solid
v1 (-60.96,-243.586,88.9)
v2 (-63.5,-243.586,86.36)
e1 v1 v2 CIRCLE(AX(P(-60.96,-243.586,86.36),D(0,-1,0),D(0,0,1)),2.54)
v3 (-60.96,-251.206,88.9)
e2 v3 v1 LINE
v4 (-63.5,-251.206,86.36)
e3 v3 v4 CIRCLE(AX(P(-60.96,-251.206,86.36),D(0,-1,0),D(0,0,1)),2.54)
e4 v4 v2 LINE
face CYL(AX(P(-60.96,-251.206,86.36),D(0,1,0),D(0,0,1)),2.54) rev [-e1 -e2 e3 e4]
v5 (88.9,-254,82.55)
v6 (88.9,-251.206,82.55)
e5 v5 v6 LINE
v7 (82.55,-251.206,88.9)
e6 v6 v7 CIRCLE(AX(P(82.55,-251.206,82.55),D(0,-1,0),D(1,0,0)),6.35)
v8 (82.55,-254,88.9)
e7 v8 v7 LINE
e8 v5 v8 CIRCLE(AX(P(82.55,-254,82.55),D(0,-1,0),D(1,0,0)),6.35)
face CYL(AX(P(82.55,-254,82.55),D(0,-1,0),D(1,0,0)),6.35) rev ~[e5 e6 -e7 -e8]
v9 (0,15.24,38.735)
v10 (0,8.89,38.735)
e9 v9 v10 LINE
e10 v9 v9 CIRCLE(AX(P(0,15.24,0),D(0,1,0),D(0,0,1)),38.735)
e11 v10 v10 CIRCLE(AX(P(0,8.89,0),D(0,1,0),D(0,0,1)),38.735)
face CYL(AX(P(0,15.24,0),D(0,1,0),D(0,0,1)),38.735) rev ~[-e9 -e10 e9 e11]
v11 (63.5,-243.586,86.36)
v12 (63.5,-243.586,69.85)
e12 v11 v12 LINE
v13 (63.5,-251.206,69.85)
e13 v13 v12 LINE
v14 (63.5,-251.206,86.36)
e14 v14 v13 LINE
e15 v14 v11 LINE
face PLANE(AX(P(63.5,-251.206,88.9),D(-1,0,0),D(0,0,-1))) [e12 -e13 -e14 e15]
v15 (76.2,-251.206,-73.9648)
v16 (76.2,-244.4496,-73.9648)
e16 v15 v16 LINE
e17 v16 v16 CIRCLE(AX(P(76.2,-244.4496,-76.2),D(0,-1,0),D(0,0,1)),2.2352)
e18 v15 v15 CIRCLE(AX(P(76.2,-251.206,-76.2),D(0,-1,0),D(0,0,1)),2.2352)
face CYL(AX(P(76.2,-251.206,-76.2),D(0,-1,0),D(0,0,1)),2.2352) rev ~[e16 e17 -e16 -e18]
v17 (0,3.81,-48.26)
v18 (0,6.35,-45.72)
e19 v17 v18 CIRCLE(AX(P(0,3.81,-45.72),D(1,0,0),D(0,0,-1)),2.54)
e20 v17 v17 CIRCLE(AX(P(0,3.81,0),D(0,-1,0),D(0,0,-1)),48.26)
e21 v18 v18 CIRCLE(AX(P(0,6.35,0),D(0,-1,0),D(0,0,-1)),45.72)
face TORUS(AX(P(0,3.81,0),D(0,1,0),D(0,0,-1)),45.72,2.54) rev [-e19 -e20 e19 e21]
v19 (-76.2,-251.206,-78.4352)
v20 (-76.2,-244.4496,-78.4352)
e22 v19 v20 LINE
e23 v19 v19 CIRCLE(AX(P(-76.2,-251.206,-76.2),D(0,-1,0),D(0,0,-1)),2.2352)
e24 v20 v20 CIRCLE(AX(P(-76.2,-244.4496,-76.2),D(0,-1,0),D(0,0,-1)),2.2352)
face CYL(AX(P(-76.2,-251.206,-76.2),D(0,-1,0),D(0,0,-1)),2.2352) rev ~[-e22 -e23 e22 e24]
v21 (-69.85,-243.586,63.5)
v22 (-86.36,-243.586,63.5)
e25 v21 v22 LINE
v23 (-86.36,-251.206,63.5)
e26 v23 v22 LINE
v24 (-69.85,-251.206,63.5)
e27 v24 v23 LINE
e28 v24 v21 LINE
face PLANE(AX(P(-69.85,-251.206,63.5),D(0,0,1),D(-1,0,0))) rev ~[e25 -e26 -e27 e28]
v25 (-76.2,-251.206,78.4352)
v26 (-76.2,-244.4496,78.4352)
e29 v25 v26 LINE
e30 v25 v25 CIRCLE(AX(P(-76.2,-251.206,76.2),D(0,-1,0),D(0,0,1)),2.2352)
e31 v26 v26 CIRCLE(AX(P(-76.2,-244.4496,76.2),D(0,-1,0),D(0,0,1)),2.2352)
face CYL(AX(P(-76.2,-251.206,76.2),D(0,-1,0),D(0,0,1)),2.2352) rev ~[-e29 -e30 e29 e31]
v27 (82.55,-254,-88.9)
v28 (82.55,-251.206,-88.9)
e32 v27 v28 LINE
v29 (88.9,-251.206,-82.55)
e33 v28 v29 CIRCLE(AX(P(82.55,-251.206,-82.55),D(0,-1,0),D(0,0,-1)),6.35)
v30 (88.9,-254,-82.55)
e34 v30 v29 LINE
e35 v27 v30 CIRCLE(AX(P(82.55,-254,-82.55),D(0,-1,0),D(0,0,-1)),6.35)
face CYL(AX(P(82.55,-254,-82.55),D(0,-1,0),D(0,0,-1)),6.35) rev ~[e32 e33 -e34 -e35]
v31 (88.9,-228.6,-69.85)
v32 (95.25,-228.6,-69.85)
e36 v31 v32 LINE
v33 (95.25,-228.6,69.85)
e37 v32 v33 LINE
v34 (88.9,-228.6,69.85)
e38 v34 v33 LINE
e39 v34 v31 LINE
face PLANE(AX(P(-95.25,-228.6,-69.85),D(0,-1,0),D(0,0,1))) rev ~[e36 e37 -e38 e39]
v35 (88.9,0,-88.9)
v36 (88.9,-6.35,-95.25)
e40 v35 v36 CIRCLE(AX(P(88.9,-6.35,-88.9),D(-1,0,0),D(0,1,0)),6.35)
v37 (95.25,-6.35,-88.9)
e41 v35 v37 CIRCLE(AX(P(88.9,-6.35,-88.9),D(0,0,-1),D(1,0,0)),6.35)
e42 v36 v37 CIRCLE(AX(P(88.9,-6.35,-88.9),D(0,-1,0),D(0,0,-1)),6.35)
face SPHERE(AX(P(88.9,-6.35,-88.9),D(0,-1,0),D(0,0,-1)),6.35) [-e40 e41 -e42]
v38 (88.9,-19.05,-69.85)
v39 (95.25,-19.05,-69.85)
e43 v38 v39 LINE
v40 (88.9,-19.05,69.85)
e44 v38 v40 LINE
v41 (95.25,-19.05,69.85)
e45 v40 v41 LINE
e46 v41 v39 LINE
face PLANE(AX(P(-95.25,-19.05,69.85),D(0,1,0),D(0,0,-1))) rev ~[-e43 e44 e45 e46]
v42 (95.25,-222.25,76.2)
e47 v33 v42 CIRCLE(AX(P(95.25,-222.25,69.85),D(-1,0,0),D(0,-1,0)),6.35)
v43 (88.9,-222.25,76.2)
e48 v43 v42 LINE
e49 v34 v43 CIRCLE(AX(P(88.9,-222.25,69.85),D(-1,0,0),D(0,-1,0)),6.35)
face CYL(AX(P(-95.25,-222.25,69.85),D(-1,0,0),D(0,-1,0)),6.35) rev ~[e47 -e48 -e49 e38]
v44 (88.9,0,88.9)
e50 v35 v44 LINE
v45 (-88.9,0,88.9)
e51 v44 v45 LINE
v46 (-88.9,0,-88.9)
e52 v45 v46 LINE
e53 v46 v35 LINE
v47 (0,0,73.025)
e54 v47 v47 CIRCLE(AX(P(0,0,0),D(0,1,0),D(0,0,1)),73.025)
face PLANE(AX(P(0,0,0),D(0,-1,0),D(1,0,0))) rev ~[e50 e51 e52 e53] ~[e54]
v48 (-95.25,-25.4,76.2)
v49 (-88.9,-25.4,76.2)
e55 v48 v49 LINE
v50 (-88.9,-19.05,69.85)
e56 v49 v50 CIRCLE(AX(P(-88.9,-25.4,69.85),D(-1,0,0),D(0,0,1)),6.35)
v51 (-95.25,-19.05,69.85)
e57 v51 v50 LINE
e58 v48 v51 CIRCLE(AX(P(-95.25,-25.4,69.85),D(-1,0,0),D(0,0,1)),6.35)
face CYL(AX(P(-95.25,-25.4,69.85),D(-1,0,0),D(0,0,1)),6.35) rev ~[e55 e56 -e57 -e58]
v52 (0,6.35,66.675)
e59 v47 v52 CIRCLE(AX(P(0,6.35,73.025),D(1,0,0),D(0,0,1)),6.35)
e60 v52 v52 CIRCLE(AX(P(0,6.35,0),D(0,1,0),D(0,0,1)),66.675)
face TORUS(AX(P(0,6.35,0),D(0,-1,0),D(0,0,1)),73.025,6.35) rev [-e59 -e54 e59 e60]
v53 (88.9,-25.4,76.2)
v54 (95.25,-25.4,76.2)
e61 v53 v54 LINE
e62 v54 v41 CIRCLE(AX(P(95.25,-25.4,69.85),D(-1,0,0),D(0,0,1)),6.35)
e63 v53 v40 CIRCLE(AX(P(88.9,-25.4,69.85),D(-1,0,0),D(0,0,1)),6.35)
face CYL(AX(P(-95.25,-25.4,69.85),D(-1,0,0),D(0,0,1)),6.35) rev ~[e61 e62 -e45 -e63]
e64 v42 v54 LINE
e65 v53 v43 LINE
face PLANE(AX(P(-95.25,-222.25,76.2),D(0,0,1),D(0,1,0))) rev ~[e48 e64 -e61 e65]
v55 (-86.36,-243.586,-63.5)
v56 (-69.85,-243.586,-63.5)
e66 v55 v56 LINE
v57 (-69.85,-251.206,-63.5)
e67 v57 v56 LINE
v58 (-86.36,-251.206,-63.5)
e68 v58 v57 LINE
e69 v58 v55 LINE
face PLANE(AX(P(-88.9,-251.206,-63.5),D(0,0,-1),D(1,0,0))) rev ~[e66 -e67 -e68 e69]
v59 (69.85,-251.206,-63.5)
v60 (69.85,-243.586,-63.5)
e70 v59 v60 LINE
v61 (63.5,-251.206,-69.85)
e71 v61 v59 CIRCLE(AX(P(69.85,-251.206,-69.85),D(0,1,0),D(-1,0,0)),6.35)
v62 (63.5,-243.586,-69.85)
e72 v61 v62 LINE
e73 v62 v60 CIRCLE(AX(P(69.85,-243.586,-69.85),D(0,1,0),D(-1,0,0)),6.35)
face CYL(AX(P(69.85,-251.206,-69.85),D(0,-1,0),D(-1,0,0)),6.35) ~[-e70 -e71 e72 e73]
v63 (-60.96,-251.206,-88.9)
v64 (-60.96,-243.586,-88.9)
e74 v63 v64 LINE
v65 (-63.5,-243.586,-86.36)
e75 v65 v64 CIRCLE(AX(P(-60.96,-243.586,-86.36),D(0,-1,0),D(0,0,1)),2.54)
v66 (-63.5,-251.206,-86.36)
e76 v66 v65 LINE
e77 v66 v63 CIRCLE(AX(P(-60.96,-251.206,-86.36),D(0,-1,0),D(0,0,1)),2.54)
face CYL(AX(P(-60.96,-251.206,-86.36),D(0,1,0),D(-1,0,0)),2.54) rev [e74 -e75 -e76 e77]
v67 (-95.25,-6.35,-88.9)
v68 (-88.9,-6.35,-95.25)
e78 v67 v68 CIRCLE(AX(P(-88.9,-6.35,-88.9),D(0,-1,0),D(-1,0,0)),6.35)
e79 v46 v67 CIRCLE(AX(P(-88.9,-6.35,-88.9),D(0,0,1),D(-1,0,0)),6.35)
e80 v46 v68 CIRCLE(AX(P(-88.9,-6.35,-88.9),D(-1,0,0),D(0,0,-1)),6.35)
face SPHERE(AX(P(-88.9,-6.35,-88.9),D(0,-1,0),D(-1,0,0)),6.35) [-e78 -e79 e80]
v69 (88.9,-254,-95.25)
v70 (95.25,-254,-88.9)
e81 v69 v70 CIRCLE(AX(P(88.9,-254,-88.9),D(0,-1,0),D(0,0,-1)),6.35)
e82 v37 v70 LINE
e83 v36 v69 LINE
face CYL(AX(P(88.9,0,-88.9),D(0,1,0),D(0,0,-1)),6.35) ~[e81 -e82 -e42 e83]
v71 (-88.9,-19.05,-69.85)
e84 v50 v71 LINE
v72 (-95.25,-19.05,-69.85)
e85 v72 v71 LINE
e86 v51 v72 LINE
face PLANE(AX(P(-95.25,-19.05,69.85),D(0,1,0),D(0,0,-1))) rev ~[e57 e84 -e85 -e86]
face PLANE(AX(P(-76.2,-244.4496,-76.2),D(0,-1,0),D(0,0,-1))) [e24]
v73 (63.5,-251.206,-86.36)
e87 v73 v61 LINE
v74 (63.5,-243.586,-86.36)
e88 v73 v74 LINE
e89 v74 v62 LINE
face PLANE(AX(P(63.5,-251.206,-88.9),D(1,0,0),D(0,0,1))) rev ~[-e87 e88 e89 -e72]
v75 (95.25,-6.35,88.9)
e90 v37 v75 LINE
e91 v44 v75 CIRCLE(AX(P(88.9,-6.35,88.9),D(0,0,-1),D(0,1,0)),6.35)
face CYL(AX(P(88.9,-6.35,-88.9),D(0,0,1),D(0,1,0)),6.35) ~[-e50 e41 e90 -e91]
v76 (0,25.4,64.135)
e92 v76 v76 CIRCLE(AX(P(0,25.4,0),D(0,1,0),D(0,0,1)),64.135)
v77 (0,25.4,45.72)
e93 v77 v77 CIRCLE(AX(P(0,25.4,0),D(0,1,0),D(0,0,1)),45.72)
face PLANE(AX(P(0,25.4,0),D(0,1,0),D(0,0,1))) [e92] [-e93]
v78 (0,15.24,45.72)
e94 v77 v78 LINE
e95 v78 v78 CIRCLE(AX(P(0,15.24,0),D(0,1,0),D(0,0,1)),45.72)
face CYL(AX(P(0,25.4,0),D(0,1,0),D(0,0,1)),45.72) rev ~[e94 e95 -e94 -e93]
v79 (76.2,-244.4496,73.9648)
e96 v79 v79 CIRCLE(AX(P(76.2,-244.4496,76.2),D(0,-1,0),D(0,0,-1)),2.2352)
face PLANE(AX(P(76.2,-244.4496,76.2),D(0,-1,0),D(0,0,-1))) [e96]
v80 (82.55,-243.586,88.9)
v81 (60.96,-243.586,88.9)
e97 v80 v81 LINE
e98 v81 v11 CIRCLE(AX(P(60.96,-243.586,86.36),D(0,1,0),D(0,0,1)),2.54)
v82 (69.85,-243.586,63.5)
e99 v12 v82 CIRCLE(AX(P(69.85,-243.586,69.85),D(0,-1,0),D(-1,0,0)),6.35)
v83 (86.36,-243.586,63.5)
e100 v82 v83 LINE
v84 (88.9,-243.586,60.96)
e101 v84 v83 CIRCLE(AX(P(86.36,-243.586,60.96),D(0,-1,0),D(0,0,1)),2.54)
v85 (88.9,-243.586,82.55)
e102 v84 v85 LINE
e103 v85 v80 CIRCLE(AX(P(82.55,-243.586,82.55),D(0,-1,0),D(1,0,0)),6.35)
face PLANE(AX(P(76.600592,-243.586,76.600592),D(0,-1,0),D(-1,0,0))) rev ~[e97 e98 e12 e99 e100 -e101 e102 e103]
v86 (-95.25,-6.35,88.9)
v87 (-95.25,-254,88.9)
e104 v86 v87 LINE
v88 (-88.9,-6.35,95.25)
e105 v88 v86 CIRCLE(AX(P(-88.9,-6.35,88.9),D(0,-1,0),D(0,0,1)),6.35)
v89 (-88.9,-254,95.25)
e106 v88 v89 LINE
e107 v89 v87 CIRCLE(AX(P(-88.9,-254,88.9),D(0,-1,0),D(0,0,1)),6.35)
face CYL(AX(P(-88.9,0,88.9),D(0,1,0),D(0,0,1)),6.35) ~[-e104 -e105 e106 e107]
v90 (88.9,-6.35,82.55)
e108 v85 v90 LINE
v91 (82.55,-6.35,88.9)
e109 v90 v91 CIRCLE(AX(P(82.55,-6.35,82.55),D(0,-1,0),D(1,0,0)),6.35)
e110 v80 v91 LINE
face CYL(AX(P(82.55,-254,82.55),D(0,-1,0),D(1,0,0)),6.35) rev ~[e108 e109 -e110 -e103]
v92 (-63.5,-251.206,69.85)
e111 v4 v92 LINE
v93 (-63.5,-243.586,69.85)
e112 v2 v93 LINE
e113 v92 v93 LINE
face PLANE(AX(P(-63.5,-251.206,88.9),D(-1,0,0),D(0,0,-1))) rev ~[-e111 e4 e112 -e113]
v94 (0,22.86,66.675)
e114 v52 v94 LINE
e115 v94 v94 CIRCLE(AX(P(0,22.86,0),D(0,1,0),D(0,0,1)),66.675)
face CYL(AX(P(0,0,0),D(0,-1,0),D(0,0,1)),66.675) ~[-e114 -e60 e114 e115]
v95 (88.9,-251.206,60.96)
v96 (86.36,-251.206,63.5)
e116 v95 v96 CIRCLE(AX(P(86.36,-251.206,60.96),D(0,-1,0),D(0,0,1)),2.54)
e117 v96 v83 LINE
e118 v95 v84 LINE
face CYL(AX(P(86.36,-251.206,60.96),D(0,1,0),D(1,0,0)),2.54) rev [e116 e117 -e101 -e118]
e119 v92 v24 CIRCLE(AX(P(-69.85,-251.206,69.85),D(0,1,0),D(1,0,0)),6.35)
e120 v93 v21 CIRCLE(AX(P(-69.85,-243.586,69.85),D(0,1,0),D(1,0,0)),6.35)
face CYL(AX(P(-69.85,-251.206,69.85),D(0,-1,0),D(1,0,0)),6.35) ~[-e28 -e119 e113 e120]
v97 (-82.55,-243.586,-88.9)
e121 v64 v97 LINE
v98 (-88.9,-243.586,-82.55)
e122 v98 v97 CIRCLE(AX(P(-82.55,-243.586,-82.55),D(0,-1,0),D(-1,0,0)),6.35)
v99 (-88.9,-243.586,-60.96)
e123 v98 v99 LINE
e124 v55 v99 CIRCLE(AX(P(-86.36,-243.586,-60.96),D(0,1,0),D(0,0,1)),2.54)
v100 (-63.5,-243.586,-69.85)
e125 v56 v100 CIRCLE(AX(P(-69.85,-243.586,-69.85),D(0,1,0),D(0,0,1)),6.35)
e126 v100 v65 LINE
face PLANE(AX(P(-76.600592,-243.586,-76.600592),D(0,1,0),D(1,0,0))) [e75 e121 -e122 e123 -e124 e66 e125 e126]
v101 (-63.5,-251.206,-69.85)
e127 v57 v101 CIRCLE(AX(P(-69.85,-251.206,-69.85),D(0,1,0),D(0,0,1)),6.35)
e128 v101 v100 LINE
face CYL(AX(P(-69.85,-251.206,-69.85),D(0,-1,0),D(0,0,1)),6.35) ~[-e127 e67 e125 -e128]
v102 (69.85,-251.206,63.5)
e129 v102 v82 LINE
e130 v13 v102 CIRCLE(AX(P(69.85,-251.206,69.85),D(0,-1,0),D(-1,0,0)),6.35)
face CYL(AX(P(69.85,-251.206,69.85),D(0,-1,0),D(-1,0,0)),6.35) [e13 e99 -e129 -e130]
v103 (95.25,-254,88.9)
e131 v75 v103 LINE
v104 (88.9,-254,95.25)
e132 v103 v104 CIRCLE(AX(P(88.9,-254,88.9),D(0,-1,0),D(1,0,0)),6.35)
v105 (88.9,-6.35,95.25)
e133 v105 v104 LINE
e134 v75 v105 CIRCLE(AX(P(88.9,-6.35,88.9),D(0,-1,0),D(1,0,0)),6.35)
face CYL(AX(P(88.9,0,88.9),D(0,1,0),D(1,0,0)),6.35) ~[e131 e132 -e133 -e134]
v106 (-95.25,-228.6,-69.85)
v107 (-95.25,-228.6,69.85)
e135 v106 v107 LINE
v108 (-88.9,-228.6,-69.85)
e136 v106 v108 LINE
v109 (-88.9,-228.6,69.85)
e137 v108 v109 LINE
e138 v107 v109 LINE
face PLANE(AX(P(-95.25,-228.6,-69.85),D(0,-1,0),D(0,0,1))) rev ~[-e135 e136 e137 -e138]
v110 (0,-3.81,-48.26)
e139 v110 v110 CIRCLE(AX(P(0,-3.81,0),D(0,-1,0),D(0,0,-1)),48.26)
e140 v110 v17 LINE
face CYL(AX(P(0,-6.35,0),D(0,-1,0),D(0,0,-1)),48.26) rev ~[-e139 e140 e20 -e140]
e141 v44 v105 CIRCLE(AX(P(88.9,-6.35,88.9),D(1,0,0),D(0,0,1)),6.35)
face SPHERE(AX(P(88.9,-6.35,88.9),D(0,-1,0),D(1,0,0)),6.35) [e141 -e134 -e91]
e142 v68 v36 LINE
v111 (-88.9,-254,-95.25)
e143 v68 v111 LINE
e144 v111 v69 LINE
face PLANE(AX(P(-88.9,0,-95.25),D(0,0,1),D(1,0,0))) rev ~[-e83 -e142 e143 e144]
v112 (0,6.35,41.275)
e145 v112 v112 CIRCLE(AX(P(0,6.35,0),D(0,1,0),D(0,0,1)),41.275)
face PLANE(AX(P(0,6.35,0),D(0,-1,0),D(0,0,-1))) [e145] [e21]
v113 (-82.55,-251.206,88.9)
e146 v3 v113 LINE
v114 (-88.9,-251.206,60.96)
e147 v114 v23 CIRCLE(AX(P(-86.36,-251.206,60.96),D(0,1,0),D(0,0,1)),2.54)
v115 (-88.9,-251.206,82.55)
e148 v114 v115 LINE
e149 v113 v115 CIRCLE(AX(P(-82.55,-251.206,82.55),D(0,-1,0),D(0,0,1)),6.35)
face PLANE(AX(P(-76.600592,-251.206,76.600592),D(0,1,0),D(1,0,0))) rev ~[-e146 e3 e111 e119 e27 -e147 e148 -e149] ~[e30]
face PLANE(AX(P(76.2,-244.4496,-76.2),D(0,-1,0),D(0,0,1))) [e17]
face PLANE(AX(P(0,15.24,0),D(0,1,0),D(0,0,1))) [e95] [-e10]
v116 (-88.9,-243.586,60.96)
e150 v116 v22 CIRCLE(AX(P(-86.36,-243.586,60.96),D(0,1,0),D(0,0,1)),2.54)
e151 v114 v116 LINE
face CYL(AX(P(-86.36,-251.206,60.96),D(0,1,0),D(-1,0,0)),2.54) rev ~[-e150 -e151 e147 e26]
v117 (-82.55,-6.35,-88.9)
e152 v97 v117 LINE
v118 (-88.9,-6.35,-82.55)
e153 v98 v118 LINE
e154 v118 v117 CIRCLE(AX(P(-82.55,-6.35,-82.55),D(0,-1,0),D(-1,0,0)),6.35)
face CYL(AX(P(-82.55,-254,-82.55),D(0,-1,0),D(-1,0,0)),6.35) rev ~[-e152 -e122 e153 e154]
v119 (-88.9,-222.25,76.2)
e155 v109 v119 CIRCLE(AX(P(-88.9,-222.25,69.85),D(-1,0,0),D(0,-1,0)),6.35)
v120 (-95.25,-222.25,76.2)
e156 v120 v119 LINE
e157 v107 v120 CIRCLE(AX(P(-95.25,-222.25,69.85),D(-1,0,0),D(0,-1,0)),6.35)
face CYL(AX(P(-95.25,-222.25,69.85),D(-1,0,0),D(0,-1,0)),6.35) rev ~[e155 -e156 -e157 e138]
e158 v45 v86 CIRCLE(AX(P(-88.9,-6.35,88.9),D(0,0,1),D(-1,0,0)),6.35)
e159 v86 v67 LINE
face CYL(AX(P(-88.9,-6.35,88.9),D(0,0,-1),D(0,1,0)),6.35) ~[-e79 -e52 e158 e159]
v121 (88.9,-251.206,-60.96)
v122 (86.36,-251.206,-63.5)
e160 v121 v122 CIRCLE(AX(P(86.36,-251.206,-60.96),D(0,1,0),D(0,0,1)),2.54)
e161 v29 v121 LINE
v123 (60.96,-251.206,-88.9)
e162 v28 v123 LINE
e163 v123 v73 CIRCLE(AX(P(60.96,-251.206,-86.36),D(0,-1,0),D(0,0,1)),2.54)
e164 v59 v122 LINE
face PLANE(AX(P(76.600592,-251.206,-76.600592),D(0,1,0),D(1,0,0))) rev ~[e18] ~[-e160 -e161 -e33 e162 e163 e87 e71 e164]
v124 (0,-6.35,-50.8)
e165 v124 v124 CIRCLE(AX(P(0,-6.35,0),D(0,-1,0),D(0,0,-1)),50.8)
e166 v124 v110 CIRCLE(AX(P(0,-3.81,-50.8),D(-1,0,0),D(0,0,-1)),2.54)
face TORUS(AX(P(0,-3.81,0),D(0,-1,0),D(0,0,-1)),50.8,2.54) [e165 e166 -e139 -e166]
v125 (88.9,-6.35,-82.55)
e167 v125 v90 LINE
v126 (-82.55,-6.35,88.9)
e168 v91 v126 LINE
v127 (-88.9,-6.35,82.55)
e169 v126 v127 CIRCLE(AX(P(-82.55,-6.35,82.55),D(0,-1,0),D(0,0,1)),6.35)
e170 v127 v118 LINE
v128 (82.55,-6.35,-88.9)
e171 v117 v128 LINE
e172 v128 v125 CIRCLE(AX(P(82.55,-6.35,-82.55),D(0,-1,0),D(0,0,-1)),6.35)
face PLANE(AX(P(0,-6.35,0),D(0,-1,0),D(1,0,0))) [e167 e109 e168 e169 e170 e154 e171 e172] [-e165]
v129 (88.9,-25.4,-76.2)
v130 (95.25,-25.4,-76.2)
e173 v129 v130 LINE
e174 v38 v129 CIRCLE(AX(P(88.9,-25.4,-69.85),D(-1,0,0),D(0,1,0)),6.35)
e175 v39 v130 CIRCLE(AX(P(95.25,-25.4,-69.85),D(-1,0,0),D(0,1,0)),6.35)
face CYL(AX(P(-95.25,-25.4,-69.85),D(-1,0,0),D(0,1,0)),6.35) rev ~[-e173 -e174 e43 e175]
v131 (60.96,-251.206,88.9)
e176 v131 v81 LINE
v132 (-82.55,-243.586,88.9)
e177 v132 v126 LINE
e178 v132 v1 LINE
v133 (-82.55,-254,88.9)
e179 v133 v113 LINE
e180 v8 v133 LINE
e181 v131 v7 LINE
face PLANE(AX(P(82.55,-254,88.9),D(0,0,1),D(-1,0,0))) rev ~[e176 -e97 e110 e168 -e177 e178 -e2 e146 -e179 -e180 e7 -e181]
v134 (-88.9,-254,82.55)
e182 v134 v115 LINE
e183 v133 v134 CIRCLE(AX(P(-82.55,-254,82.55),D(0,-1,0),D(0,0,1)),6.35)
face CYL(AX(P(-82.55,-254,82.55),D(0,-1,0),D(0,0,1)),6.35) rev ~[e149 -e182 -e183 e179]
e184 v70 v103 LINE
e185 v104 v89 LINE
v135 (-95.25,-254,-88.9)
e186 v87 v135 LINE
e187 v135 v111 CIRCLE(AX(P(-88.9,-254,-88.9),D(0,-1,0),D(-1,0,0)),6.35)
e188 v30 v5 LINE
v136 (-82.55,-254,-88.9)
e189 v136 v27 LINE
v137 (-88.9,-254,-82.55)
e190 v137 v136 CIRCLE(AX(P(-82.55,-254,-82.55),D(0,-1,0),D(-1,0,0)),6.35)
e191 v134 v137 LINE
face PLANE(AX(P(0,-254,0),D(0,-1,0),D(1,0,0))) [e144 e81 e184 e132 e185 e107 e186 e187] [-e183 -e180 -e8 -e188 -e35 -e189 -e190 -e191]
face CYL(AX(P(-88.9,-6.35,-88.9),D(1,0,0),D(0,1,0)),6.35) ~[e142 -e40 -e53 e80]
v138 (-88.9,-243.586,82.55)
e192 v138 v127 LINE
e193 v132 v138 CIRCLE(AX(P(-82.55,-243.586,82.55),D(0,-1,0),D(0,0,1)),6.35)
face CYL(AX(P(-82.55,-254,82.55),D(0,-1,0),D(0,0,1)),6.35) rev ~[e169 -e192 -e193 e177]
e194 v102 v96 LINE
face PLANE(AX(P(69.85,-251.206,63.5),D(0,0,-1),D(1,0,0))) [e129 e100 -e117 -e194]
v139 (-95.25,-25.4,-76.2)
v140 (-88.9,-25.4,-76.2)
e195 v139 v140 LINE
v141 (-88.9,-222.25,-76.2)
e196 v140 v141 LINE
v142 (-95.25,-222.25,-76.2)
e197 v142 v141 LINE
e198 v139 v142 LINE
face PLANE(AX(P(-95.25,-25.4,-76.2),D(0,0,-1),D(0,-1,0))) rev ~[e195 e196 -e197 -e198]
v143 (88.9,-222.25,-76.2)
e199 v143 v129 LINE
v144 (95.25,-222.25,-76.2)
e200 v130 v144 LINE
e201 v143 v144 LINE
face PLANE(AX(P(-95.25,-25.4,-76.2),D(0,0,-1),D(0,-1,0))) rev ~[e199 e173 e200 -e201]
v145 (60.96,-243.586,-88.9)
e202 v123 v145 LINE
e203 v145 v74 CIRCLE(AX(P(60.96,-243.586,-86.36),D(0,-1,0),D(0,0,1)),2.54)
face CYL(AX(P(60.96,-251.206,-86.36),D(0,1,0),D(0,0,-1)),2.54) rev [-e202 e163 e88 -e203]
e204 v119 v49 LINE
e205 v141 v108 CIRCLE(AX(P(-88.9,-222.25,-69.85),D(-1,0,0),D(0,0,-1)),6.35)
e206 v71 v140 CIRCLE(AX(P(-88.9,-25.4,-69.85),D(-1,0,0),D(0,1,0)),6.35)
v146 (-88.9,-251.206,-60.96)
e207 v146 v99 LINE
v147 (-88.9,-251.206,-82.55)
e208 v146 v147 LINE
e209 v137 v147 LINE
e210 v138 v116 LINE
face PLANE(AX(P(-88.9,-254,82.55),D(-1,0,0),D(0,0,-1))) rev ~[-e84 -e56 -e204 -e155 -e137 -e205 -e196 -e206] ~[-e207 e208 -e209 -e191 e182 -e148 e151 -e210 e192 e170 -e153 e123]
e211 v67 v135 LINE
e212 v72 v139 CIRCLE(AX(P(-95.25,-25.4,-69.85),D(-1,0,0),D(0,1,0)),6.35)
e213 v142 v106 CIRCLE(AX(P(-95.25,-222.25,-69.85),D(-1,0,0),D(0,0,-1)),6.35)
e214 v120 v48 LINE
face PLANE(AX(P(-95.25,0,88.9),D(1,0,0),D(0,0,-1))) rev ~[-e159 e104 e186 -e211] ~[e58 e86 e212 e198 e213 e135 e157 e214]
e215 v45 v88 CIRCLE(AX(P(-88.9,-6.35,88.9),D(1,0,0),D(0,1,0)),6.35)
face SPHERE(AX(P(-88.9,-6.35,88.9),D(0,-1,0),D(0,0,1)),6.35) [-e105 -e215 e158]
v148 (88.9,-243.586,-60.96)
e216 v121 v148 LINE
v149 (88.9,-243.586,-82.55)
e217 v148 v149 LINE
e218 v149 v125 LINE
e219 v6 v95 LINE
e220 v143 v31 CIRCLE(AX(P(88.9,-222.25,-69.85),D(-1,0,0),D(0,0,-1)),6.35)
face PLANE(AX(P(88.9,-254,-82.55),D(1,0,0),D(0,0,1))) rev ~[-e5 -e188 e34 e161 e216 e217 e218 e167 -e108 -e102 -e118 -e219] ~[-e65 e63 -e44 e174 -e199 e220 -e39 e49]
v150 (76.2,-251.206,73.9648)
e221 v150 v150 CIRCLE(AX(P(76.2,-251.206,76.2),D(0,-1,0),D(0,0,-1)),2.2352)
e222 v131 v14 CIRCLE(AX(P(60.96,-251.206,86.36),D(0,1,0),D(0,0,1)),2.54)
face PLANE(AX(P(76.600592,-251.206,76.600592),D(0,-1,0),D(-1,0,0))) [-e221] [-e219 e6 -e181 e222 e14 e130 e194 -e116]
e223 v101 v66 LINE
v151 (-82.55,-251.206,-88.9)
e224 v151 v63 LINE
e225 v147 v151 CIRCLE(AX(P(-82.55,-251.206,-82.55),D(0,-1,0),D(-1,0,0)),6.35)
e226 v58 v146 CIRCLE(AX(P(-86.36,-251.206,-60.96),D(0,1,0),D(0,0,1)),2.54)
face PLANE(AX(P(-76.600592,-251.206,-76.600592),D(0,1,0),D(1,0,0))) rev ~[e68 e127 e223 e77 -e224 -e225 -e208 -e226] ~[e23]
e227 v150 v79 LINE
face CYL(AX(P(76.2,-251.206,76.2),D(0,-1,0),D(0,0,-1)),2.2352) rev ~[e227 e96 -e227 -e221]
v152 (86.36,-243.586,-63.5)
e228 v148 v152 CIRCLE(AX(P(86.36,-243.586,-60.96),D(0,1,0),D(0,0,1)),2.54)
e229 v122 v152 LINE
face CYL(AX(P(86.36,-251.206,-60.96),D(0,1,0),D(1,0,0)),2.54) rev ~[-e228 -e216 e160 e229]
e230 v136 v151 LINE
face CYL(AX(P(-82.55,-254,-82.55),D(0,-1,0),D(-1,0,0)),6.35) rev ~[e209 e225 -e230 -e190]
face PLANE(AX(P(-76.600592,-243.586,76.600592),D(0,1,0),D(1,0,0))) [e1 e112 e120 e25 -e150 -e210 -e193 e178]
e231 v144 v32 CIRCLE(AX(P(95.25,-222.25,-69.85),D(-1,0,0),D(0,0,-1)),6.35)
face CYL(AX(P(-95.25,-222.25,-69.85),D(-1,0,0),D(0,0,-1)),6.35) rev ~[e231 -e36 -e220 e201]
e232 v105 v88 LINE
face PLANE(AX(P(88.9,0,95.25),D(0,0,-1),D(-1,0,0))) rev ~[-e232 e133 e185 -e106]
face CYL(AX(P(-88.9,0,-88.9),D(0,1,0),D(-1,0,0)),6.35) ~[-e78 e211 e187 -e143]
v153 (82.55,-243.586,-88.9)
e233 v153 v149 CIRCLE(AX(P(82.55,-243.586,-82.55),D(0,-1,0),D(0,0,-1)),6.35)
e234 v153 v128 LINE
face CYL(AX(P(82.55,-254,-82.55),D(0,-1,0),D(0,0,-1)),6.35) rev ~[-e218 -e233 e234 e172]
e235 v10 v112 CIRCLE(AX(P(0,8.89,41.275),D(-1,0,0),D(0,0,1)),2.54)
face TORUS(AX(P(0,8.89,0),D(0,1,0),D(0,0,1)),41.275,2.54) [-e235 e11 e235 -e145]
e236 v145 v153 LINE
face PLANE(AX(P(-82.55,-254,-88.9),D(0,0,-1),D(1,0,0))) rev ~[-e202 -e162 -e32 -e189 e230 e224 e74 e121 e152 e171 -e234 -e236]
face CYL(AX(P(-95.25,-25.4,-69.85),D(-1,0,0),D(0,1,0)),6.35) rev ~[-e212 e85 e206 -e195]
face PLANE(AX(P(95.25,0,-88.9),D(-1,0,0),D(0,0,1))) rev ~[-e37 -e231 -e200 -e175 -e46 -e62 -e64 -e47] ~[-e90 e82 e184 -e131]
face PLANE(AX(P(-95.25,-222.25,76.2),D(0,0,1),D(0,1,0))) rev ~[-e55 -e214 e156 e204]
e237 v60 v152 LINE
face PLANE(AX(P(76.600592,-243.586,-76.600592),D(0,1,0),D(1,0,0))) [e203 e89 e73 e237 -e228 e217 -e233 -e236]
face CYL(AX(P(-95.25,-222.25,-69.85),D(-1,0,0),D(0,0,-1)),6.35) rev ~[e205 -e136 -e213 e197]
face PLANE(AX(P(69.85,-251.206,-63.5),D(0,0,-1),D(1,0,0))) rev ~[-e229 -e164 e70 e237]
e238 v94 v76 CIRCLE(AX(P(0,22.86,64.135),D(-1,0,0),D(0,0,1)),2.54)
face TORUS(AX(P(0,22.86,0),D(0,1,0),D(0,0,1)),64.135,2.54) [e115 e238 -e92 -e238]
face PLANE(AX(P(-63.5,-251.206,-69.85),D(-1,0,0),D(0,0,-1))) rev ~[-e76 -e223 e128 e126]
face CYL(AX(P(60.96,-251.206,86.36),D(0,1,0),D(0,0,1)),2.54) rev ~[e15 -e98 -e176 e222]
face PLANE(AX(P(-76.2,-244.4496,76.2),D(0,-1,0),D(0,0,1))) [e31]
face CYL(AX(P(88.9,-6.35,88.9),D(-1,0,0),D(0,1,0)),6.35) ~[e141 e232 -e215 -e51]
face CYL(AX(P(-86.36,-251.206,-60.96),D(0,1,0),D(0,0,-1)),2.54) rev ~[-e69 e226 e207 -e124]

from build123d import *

# Parameters (mm, degrees)
SKETCH1_R           = 66.675
BOSS_EXTRUDE1_DEPTH = 25.4
SKETCH3_R           = 45.72
CUT_EXTRUDE3_DEPTH  = 10.16
FILLET1_R           = 2.54
BOSS_EXTRUDE2_DEPTH = 254
FILLET2_R           = 6.35
CUT_EXTRUDE4_DEPTH  = 247.65
SKETCH7_R           = 38.735
CUT_EXTRUDE5_DEPTH  = 21.59
FILLET3_R           = 6.35
CUT_EXTRUDE6_REACH  = 333.48
SKETCH9_R           = 48.26
CUT_EXTRUDE7_DEPTH  = 12.7
FILLET4_R           = 2.54
BOSS_EXTRUDE3_DEPTH = 7.62
FILLET5_R           = 2.54
SKETCH11_R          = 2.2352
CUT_EXTRUDE8_DEPTH  = 6.7564


with BuildPart() as part:
    # Sketch1 → Boss-Extrude1 (new body)
    with BuildSketch(Plane(origin=(0, 0, 0), x_dir=(1, 0, 0), z_dir=(0, 1, 0))):
        with Locations(Location((0, 0, 0), (0, 0, 270))):
            Circle(SKETCH1_R)
    extrude(amount=BOSS_EXTRUDE1_DEPTH)

    # Sketch3 → Cut-Extrude3 (cut)
    with BuildSketch(Plane(origin=(0, 25.4, 0), x_dir=(1, 0, 0), z_dir=(0, 1, 0))):
        with Locations(Location((0, 0, 0), (0, 0, 270))):
            Circle(SKETCH3_R)
    extrude(amount=-CUT_EXTRUDE3_DEPTH, mode=Mode.SUBTRACT)

    # Fillet1
    fillet1_edges = [part.edges().sort_by_distance(p)[0] for p in [
        (0, 25.4, -66.675),
    ]]
    fillet(fillet1_edges, radius=FILLET1_R)

    # Sketch4 → Boss-Extrude2 (add)
    with BuildSketch(Plane.XZ):
        with BuildLine():
            Line((88.9, 95.25), (-88.9, 95.25))
            ThreePointArc((-88.9, 95.25), (-93.390128061, 93.390128061), (-95.25, 88.9))
            Line((-95.25, 88.9), (-95.25, -88.9))
            ThreePointArc((-95.25, -88.9), (-93.390128061, -93.390128061), (-88.9, -95.25))
            Line((-88.9, -95.25), (88.9, -95.25))
            ThreePointArc((88.9, -95.25), (93.390128061, -93.390128061), (95.25, -88.9))
            Line((95.25, -88.9), (95.25, 88.9))
            ThreePointArc((95.25, 88.9), (93.390128061, 93.390128061), (88.9, 95.25))
        make_face()
    extrude(amount=BOSS_EXTRUDE2_DEPTH)

    # Fillet2
    fillet2_edges = [part.edges().sort_by_distance(p)[0] for p in [
        (-93.390128061, 0, -93.390128061),
        (0, 0, -95.25),
        (93.390128061, 0, -93.390128061),
        (95.25, 0, 0),
        (93.390128061, 0, 93.390128061),
        (0, 0, 95.25),
        (-93.390128061, 0, 93.390128061),
        (-95.25, 0, 0),
    ]]
    fillet(fillet2_edges, radius=FILLET2_R)

    # Sketch5 → Cut-Extrude4 (cut)
    with BuildSketch(Plane.XZ.offset(254)):
        with BuildLine():
            Line((88.9, -82.55), (88.9, 82.55))
            ThreePointArc((88.9, 82.55), (87.040128061, 87.040128061), (82.55, 88.9))
            Line((82.55, 88.9), (-82.55, 88.9))
            ThreePointArc((-82.55, 88.9), (-87.040128061, 87.040128061), (-88.9, 82.55))
            Line((-88.9, 82.55), (-88.9, -82.55))
            ThreePointArc((-88.9, -82.55), (-87.040128061, -87.040128061), (-82.55, -88.9))
            Line((-82.55, -88.9), (82.55, -88.9))
            ThreePointArc((82.55, -88.9), (87.040128061, -87.040128061), (88.9, -82.55))
        make_face()
    extrude(amount=-CUT_EXTRUDE4_DEPTH, mode=Mode.SUBTRACT)

    # Sketch7 → Cut-Extrude5 (cut)
    with BuildSketch(Plane(origin=(0, 15.24, 0), x_dir=(1, 0, 0), z_dir=(0, 1, 0))):
        with Locations(Location((0, 0, 0), (0, 0, 270))):
            Circle(SKETCH7_R)
    extrude(amount=-CUT_EXTRUDE5_DEPTH, mode=Mode.SUBTRACT)

    # Fillet3
    fillet3_edges = [part.edges().sort_by_distance(p)[0] for p in [
        (0, 0, -66.675),
    ]]
    fillet(fillet3_edges, radius=FILLET3_R)

    # Cut-Extrude6: up to this face of the body (flat: up to its plane)
    cut_extrude6_end = Plane(part.part.faces().sort_by_distance((95.25, -130.175, 0))[0])
    # Sketch8 → Cut-Extrude6 (cut, up to the picked face)
    with BuildSketch(Plane.ZY.offset(95.25), mode=Mode.PRIVATE) as cut_extrude6_sk1:
        with BuildLine():
            Line((-69.85, -228.6), (69.85, -228.6))
            ThreePointArc((69.85, -228.6), (74.340128061, -226.740128061), (76.2, -222.25))
            Line((76.2, -222.25), (76.2, -25.4))
            ThreePointArc((76.2, -25.4), (74.340128061, -20.909871939), (69.85, -19.05))
            Line((69.85, -19.05), (-69.85, -19.05))
            ThreePointArc((-69.85, -19.05), (-74.340128061, -20.909871939), (-76.2, -25.4))
            Line((-76.2, -25.4), (-76.2, -222.25))
            ThreePointArc((-76.2, -222.25), (-74.340128061, -226.740128061), (-69.85, -228.6))
        make_face()
    cut_extrude6_tool1 = split(extrude(cut_extrude6_sk1.sketch, amount=-CUT_EXTRUDE6_REACH, mode=Mode.PRIVATE), bisect_by=cut_extrude6_end, keep=Keep.BOTH, mode=Mode.PRIVATE)
    add(cut_extrude6_tool1.solids().sort_by(Axis((-95.25, -123.825, 0), (1, 0, 0)))[0], mode=Mode.SUBTRACT)

    # Sketch9 → Cut-Extrude7 (cut)
    with BuildSketch(Plane.XZ.offset(6.35)):
        with Locations(Location((0, 0, 0), (0, 0, 270))):
            Circle(SKETCH9_R)
    extrude(amount=-CUT_EXTRUDE7_DEPTH, mode=Mode.SUBTRACT)

    # Fillet4
    fillet4_edges = [part.edges().sort_by_distance(p)[0] for p in [
        (0, -6.35, 48.26),
        (0, 6.35, 48.26),
        (0, 6.35, -38.735),
    ]]
    fillet(fillet4_edges, radius=FILLET4_R)

    # Sketch10 → Boss-Extrude3 (add)
    with BuildSketch(Plane(origin=(0, -251.206, 0), x_dir=(-1, 0, 0), z_dir=(0, -1, 0))):
        with BuildLine():
            Line((88.9, 63.5), (69.85, 63.5))
            ThreePointArc((69.85, 63.5), (65.359871939, 65.359871939), (63.5, 69.85))
            Line((63.5, 69.85), (63.5, 88.9))
            Line((63.5, 88.9), (88.9, 88.9))
            Line((88.9, 88.9), (88.9, 63.5))
        make_face()
        with BuildLine():
            Line((88.9, -88.9), (63.5, -88.9))
            Line((63.5, -88.9), (63.5, -69.85))
            ThreePointArc((63.5, -69.85), (65.359871939, -65.359871939), (69.85, -63.5))
            Line((69.85, -63.5), (88.9, -63.5))
            Line((88.9, -63.5), (88.9, -88.9))
        make_face()
        with BuildLine():
            Line((-88.9, -63.5), (-88.9, -88.9))
            Line((-88.9, -88.9), (-63.5, -88.9))
            Line((-63.5, -88.9), (-63.5, -69.85))
            ThreePointArc((-63.5, -69.85), (-65.359871939, -65.359871939), (-69.85, -63.5))
            Line((-69.85, -63.5), (-88.9, -63.5))
        make_face()
        with BuildLine():
            Line((-88.9, 88.9), (-63.5, 88.9))
            Line((-63.5, 88.9), (-63.5, 69.85))
            ThreePointArc((-63.5, 69.85), (-65.359871939, 65.359871939), (-69.85, 63.5))
            Line((-69.85, 63.5), (-88.9, 63.5))
            Line((-88.9, 63.5), (-88.9, 88.9))
        make_face()
    extrude(amount=-BOSS_EXTRUDE3_DEPTH)

    # Fillet5
    fillet5_edges = [part.edges().sort_by_distance(p)[0] for p in [
        (88.9, -247.396, -63.5),
        (63.5, -247.396, -88.9),
        (63.5, -247.396, 88.9),
        (88.9, -247.396, 63.5),
        (-88.9, -247.396, 63.5),
        (-63.5, -247.396, 88.9),
        (-63.5, -247.396, -88.9),
        (-88.9, -247.396, -63.5),
    ]]
    fillet(fillet5_edges, radius=FILLET5_R)

    # Sketch11 → Cut-Extrude8 (cut)
    with BuildSketch(Plane(origin=(0, -251.206, 0), x_dir=(-1, 0, 0), z_dir=(0, -1, 0))):
        with Locations(Location((76.2, 76.2, 0), (0, 0, 90))):
            Circle(SKETCH11_R)
        with Locations(Location((76.2, -76.2, 0), (0, 0, 270))):
            Circle(SKETCH11_R)
        with Locations(Location((-76.2, -76.2, 0), (0, 0, 90))):
            Circle(SKETCH11_R)
        with Locations(Location((-76.2, 76.2, 0), (0, 0, 270))):
            Circle(SKETCH11_R)
    extrude(amount=-CUT_EXTRUDE8_DEPTH, mode=Mode.SUBTRACT)


solid = part.part
